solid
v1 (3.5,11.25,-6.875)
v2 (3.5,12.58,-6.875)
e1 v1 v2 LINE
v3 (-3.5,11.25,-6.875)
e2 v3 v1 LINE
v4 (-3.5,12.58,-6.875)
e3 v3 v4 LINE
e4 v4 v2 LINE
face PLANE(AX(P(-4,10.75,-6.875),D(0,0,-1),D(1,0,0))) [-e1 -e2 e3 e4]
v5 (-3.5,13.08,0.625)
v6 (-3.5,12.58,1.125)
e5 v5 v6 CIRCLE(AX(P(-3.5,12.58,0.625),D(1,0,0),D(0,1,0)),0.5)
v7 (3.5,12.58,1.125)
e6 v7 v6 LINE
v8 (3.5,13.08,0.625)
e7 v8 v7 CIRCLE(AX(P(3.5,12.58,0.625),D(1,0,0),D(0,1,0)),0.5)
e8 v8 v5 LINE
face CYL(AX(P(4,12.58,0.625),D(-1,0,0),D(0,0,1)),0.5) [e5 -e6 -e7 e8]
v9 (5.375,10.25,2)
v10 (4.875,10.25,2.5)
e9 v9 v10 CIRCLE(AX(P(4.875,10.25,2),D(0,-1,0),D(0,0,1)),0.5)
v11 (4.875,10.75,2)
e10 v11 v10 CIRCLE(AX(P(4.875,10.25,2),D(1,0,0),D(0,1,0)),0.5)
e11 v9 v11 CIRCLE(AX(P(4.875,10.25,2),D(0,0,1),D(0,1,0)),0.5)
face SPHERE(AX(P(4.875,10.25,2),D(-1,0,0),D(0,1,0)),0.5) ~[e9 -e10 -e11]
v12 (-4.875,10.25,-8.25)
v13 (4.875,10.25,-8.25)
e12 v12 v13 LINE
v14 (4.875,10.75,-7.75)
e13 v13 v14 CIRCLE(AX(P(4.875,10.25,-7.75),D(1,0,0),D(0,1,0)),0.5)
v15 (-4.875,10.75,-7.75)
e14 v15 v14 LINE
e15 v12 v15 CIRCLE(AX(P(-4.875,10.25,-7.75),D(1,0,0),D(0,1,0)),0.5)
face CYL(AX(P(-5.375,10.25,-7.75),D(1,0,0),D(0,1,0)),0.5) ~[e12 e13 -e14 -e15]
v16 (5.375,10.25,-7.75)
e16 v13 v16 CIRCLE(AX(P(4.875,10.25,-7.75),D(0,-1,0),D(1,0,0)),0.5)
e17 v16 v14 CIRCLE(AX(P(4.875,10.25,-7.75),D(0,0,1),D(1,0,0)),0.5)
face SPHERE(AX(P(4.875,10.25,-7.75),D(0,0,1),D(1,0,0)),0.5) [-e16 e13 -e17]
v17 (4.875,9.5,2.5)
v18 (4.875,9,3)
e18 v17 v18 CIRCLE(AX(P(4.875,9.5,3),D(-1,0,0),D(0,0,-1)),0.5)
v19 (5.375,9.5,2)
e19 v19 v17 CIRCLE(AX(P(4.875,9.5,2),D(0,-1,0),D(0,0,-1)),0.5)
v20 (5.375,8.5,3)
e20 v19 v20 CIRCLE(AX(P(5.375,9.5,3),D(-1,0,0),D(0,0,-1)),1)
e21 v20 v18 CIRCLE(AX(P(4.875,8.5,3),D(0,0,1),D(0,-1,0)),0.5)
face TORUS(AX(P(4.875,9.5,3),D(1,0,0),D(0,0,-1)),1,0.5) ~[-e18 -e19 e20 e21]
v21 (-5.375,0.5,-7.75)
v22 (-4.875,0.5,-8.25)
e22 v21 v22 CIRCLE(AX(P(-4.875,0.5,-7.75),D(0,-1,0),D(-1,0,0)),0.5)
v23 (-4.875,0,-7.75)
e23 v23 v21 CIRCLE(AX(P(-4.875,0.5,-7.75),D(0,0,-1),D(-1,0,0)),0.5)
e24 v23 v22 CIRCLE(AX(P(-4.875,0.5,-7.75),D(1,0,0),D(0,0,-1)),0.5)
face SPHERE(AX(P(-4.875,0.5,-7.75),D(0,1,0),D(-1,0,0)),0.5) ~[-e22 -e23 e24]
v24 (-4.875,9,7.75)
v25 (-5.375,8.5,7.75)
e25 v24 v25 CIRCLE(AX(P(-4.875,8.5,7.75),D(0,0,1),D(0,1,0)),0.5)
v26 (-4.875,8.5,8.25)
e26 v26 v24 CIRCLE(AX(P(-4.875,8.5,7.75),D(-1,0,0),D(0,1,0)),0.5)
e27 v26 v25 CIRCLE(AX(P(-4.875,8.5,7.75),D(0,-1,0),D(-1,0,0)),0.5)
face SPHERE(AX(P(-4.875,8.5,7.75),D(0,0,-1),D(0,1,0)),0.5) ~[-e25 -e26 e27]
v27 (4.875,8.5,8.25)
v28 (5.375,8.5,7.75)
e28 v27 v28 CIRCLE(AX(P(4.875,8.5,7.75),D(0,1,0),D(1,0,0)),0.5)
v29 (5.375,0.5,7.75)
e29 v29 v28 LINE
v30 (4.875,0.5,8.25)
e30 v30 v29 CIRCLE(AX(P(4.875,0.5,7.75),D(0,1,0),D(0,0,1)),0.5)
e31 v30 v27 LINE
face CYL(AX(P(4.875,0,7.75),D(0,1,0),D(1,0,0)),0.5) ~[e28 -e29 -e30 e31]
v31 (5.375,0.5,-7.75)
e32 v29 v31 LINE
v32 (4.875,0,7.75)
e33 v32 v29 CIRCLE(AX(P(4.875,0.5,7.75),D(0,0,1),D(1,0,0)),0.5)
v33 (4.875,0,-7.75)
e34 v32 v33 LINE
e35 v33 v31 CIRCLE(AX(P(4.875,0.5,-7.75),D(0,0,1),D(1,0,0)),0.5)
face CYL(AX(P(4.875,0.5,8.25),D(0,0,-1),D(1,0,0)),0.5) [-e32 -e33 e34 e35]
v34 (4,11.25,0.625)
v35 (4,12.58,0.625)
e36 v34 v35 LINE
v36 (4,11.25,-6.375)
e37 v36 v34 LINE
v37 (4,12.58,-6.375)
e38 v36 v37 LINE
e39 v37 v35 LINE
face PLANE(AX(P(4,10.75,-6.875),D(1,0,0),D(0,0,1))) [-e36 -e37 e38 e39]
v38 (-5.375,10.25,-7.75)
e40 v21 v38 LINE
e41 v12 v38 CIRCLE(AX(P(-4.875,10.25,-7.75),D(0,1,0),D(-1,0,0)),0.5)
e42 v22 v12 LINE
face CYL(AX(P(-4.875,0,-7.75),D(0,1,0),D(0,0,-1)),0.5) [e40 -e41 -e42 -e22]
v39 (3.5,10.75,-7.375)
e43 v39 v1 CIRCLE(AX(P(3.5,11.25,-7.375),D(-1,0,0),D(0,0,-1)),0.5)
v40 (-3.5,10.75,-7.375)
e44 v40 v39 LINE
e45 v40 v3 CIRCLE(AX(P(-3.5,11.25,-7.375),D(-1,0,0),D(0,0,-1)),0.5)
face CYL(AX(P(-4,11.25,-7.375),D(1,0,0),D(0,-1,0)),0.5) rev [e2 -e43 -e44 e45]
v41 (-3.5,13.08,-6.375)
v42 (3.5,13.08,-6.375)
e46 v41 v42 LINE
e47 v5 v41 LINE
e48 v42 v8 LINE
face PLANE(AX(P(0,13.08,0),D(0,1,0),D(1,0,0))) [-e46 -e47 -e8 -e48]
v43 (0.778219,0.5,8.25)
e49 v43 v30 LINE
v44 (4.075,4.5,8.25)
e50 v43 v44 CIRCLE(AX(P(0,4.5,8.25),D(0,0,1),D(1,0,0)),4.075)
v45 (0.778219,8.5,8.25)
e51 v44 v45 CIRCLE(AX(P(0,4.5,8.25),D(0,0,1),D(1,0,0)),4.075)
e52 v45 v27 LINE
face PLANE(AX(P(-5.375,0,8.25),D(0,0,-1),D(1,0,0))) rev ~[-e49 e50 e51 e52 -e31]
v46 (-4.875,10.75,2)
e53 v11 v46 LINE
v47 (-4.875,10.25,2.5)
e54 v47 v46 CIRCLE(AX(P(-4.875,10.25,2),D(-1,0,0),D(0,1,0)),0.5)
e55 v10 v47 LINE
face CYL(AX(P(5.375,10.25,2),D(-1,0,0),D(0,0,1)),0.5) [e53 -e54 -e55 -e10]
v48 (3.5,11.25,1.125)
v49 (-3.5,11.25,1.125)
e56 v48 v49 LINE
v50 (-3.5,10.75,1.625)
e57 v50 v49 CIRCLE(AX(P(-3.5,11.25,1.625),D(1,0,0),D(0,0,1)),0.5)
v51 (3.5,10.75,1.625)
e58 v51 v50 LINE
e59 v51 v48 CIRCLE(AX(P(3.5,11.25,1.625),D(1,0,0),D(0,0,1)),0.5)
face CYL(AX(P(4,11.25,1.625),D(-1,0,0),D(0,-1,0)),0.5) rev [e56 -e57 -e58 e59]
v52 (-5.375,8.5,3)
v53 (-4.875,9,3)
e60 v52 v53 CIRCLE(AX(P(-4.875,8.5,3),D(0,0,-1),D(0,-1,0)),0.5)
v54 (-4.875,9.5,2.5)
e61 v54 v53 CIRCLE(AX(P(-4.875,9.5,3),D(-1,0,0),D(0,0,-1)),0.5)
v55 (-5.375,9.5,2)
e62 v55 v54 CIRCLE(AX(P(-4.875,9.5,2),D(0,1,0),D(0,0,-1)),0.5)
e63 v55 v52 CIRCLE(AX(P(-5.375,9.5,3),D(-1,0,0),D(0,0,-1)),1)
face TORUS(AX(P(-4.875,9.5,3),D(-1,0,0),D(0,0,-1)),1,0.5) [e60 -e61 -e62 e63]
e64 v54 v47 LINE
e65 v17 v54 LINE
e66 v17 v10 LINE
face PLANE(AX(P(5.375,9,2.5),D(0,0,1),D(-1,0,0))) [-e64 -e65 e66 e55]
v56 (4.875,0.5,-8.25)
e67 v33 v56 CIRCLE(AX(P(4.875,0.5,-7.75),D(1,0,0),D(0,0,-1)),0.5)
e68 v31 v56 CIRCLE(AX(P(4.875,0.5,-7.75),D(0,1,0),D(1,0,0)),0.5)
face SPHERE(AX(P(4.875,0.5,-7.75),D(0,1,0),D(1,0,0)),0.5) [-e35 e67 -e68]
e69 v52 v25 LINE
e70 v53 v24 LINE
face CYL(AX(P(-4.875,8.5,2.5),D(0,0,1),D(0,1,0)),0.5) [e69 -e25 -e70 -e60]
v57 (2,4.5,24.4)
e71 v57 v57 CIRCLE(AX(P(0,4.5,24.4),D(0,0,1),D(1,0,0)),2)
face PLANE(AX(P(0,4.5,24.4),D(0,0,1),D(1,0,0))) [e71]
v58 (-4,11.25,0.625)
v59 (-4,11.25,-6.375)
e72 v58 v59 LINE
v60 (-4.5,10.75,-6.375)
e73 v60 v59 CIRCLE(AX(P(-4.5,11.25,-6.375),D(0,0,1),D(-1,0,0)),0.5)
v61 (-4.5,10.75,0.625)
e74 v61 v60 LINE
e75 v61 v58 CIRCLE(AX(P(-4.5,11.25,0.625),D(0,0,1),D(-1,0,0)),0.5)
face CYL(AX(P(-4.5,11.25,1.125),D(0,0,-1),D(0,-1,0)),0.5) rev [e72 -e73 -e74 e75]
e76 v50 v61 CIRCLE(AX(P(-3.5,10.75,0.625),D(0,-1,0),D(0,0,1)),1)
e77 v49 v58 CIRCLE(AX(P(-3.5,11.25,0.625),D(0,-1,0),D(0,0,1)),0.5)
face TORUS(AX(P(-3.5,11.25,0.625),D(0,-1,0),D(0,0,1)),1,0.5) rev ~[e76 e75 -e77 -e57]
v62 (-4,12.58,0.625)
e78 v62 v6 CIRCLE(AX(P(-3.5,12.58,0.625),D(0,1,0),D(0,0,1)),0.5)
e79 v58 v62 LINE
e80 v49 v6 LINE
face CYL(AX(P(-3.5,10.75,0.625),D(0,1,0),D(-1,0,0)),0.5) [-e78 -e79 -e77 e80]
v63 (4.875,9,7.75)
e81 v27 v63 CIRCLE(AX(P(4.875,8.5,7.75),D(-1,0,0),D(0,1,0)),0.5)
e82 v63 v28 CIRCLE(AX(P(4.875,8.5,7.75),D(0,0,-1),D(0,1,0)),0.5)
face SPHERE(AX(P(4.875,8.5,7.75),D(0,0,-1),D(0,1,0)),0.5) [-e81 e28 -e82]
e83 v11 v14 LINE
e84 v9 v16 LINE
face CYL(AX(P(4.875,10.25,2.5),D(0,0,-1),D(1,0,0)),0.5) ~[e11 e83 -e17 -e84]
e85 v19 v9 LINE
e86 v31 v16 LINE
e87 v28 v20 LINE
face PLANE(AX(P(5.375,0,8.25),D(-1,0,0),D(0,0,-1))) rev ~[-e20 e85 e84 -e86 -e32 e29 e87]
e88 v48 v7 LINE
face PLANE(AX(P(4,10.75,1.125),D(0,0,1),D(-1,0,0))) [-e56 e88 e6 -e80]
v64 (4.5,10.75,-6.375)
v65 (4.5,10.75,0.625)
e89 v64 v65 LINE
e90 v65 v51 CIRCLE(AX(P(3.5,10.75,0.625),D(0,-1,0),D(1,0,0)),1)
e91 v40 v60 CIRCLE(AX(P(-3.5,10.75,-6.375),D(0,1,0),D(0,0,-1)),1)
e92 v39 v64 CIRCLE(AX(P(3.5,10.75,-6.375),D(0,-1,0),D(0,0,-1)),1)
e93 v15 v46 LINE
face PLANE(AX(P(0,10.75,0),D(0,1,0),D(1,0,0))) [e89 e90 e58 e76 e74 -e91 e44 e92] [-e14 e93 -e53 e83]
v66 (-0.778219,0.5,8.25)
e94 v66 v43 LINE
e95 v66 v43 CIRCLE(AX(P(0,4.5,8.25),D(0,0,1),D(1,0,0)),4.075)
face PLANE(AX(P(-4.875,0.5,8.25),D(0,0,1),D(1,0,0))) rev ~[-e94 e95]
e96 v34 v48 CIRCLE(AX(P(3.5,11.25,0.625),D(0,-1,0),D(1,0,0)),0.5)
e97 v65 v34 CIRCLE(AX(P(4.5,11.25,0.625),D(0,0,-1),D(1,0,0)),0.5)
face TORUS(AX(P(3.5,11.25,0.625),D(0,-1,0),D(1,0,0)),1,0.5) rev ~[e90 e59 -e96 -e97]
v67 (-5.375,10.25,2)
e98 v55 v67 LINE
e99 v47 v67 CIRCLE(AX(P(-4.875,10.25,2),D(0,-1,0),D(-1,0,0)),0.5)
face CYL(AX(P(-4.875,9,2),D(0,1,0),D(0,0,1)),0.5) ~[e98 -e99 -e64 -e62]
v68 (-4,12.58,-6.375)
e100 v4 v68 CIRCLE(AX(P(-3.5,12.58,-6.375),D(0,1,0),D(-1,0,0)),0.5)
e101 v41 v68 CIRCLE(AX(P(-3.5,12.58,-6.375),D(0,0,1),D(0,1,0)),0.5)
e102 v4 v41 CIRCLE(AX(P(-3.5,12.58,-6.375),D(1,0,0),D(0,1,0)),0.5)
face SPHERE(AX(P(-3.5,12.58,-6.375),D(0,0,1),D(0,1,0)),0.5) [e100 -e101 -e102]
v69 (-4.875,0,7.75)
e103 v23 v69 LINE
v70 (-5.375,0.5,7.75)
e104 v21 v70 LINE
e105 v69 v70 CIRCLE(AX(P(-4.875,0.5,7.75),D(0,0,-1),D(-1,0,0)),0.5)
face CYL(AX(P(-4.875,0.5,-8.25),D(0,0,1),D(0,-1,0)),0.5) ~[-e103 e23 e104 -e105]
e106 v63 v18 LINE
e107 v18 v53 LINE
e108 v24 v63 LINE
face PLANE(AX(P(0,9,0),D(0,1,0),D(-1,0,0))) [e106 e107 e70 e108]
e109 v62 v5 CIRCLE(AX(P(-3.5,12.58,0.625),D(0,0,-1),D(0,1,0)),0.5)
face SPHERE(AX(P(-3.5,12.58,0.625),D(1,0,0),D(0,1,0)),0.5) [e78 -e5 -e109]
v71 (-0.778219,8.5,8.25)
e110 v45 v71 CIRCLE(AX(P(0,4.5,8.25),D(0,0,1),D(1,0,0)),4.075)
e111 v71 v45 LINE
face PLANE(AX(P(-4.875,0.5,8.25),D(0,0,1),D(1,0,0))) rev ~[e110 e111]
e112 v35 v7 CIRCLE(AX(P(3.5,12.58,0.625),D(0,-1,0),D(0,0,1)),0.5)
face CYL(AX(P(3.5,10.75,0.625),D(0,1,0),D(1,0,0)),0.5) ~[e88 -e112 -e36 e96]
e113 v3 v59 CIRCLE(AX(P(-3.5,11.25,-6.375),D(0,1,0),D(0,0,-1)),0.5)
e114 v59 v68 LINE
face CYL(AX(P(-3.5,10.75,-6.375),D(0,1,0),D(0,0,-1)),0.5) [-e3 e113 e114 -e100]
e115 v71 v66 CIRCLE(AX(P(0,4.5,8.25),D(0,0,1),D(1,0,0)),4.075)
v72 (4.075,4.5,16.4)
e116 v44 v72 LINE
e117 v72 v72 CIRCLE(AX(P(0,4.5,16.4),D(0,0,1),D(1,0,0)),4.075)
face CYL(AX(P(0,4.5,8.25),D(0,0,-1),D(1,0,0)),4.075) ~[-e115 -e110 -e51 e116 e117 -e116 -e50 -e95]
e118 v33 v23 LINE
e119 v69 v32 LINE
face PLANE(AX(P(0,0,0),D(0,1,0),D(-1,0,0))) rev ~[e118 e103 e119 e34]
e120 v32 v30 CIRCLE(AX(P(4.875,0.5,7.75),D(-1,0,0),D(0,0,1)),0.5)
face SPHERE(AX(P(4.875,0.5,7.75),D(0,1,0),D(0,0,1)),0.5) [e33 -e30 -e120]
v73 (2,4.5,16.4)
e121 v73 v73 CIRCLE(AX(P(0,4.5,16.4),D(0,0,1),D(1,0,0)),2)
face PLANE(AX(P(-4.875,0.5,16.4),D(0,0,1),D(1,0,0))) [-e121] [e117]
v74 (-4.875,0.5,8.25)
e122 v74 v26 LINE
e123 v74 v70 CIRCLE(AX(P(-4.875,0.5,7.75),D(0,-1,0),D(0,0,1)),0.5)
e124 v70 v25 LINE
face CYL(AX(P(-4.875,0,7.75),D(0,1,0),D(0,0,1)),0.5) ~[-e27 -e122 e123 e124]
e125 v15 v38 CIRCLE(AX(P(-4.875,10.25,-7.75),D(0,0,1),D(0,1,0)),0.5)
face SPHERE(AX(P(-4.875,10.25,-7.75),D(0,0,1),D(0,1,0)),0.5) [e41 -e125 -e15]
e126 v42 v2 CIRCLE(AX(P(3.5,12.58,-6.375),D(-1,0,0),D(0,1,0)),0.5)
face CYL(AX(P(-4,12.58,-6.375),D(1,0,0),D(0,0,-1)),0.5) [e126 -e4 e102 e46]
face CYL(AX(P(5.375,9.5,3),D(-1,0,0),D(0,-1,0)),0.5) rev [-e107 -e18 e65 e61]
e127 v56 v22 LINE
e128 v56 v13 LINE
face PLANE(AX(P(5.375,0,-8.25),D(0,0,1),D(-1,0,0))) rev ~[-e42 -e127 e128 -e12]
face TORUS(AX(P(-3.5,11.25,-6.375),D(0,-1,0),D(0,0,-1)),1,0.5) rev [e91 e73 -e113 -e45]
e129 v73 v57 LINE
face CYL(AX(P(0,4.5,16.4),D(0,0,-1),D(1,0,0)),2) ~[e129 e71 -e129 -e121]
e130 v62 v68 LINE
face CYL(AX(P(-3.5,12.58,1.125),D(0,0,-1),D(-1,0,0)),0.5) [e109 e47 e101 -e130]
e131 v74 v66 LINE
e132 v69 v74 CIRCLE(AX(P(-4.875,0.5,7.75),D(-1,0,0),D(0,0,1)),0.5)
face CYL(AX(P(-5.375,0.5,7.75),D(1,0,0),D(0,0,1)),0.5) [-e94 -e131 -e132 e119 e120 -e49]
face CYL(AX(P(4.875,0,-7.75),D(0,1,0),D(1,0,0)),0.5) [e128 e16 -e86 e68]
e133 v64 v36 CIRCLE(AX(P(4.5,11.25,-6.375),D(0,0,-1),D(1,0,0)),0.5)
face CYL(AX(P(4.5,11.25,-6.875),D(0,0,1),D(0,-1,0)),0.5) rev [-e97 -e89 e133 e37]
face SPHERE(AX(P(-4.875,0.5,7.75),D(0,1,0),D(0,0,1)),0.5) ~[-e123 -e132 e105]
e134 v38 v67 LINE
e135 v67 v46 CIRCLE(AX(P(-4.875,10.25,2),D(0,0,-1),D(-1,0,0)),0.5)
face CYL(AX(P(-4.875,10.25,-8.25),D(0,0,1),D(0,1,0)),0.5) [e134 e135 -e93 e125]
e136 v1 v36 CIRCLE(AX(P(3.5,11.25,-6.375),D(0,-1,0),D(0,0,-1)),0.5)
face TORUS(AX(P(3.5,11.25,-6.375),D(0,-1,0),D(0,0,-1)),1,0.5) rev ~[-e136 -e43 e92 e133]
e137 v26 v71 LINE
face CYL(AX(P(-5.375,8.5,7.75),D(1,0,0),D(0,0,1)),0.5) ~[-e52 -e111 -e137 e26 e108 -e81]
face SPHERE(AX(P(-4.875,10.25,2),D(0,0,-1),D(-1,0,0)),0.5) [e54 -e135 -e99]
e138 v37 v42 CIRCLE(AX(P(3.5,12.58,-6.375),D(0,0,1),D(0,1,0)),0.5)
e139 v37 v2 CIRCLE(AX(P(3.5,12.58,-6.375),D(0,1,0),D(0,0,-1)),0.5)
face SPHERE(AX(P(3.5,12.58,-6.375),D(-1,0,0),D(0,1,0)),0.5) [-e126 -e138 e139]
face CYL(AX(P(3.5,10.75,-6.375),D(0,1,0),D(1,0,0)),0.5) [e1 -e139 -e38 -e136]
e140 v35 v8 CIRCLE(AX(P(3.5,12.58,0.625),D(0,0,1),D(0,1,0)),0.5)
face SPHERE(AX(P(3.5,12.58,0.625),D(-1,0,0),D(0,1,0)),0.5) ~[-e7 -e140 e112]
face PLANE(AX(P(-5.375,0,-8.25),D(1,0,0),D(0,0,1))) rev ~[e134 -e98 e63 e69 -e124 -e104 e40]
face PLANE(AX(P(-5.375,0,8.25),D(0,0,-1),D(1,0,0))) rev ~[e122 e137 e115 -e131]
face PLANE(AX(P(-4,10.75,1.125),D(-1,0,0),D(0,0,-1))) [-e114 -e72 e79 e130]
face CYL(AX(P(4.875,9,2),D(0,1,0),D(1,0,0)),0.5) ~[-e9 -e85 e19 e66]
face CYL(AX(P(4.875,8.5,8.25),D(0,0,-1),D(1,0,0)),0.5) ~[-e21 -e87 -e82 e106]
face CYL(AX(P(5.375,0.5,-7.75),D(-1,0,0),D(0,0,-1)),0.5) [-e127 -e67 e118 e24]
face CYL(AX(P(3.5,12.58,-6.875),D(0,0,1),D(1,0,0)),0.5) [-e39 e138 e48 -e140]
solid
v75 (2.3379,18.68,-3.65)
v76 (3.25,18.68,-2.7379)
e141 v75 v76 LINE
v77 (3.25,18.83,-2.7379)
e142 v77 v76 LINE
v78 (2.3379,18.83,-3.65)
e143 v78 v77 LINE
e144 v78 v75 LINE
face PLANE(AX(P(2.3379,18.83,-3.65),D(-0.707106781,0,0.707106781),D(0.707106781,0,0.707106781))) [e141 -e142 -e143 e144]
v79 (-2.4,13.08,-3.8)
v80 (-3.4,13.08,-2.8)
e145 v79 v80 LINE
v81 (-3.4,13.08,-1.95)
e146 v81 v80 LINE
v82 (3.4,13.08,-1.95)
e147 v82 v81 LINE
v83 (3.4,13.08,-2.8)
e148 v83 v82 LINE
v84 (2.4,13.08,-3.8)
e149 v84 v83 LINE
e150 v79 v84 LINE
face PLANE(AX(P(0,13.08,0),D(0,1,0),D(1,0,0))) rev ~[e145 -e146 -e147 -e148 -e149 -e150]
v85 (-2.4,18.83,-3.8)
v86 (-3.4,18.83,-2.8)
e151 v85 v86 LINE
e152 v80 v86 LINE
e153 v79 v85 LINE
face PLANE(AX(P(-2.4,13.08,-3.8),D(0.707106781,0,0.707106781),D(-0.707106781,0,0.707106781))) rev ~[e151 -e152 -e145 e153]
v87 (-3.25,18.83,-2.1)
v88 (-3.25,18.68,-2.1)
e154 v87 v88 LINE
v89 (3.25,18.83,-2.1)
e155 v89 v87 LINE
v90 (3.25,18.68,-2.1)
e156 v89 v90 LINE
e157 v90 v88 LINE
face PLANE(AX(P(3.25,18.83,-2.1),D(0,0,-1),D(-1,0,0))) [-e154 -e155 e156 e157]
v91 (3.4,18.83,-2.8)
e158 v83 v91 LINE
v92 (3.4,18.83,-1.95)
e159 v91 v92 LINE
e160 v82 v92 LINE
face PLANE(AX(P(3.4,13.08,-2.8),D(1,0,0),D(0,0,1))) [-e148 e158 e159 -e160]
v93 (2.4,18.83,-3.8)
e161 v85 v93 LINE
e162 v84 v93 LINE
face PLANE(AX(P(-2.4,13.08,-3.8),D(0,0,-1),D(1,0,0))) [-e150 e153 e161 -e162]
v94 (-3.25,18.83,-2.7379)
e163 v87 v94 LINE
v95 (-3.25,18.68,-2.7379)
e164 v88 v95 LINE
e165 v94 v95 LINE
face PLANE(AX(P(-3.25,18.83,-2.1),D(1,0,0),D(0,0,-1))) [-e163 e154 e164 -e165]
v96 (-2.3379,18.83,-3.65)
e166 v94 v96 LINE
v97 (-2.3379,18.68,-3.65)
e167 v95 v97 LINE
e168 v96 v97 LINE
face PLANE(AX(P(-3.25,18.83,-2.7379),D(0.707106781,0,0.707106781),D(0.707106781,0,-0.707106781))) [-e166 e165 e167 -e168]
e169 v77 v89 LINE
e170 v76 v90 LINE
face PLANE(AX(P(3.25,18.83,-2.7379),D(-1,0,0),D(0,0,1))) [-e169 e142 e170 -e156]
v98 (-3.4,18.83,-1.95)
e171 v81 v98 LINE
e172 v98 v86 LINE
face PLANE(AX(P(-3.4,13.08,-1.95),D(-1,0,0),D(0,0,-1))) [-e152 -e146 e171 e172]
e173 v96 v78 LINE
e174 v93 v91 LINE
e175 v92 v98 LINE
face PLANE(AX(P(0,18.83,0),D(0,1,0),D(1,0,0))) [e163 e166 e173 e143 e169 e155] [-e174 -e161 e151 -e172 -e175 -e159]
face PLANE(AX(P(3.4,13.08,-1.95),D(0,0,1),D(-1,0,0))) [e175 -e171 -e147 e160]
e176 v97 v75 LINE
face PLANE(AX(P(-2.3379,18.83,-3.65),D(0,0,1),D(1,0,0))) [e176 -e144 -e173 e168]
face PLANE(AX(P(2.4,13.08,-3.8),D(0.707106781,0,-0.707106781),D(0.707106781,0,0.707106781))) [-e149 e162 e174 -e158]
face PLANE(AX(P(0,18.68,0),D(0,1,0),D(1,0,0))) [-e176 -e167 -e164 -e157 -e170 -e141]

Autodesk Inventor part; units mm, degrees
ref_plane "YZ Plane" through (0, 0, 0) normal (1, 0, 0) x (0, 1, 0)
ref_plane "XZ Plane" through (0, 0, 0) normal (0, 1, 0) x (-1, 0, 0)
ref_plane "XY Plane" through (0, 0, 0) normal (0, 0, 1) x (1, 0, 0)
sketch "Sketch1" plane through (0, 0, 0) normal (0, 1, 0) x (-1, 0, 0)
  line L0 (-5.375, -8.25) -> (5.375, -8.25)
  line L1 (5.375, -8.25) -> (5.375, 8.25)
  line L2 (5.375, 8.25) -> (-5.375, 8.25)
  line L3 (-5.375, 8.25) -> (-5.375, -8.25)
  line L4 (-5.375, -8.25) -> (5.375, 8.25) construction
  line L5 (5.375, -8.25) -> (-5.375, 8.25) construction
  point P0 (0, 0)
  dimension "d0" = 10.75
  dimension "d1" = 16.5
extrude "Extrusion1" add sketch "Sketch1" along normal blind 9
sketch "Sketch2" plane through (0, 9, 0) normal (0, 1, 0) x (1, 0, 0)
  line L0 (-5.375, 8.25) -> (-5.375, -8.25) projected
  line L1 (5.375, -8.25) -> (5.375, 8.25) projected
  line L2 (-5.375, 8.25) -> (5.375, 8.25)
  line L3 (5.375, 8.25) -> (5.375, -2.5)
  line L4 (5.375, -2.5) -> (-5.375, -2.5)
  line L5 (-5.375, -2.5) -> (-5.375, 8.25)
  point P0 (0, 0)
  dimension "d4" = 10.75
extrude "Extrusion2" add sketch "Sketch2" along normal blind 1.75
sketch "Sketch3" plane through (0, 10.75, 0) normal (0, 1, 0) x (1, 0, 0)
  line L0 (5.375, 8.25) -> (-5.375, 8.25) construction
  line L1 (-5.375, 8.25) -> (-5.375, -2.5) construction
  line L2 (-5.375, -2.5) -> (5.375, -2.5) construction
  line L3 (5.375, -2.5) -> (5.375, 8.25) construction
  line L4 (5.375, 2.875) -> (-5.375, 2.875) construction
  line L5 (4, -1.125) -> (-4, -1.125)
  line L6 (-4, -1.125) -> (-4, 6.875)
  line L7 (-4, 6.875) -> (4, 6.875)
  line L8 (4, 6.875) -> (4, -1.125)
  line L9 (4, -1.125) -> (-4, 6.875) construction
  line L10 (-4, -1.125) -> (4, 6.875) construction
  point P0 (0, 0)
  point P1 (0, 2.875)
  dimension "d7" = 8
  dimension "d8" = 8
extrude "Extrusion3" add sketch "Sketch3" along normal blind 2.33
fillet "Fillet1" radius 0.5 30 edges at (0, 13.08, 1.125) (-4, 13.08, -2.875) (0, 13.08, -6.875) (4, 13.08, -2.875) (4, 11.915, 1.125) (-4, 11.915, 1.125) (-4, 11.915, -6.875) (4, 11.915, -6.875) (0, 10.75, -6.875) (4, 10.75, -2.875) (0, 10.75, 1.125) (-4, 10.75, -2.875) (-5.375, 10.75, -2.875) (-5.375, 9.875, 2.5) (0, 10.75, 2.5) (5.375, 10.75, -2.875) (5.375, 9.875, 2.5) (5.375, 5.375, -8.25) (0, 10.75, -8.25) (-5.375, 5.375, -8.25) (-5.375, 9, 5.375) (5.375, 9, 5.375) (0, 9, 8.25) (5.375, 4.5, 8.25) (-5.375, 4.5, 8.25) (0, 0, 8.25) (5.375, 0, 0) (-5.375, 0, 0) (0, 0, -8.25) (0, 9, 2.5)
sketch "Sketch4" plane through (-4.875, 0.5, 8.25) normal (0, 0, 1) x (1, 0, 0)
  line L0 (9.75, 0) -> (0, 0) construction
  line L1 (9.75, 8) -> (9.75, 0) construction
  line L2 (0, 8) -> (9.75, 8) construction
  line L3 (0, 0) -> (0, 8) construction
  line L4 (0, 4) -> (9.75, 4) construction
  circle A0 centre (4.875, 4) radius 4.075
  point P0 (4.875, -0.5)
  dimension "d12" = 8.15
extrude "Extrusion4" add sketch "Sketch4" along normal blind 8.15
sketch "Sketch5" plane through (0, 13.08, 0) normal (0, 1, 0) x (1, 0, 0)
  line L0 (3.5, 6.375) -> (3.5, -0.625) construction
  line L1 (-3.5, 6.375) -> (3.5, 6.375) construction
  line L2 (-3.5, -0.625) -> (-3.5, 6.375) construction
  line L3 (3.5, -0.625) -> (-3.5, -0.625) construction
  line L4 (3.5, 2.875) -> (-3.5, 2.875) construction
  line L5 (3.4, 1.95) -> (-3.4, 1.95)
  line L6 (-3.4, 1.95) -> (-3.4, 3.8)
  line L7 (-3.4, 3.8) -> (3.4, 3.8)
  line L8 (3.4, 3.8) -> (3.4, 1.95)
  line L9 (3.4, 1.95) -> (-3.4, 3.8) construction
  line L10 (-3.4, 1.95) -> (3.4, 3.8) construction
  line L11 (2.4, 3.8) -> (3.4, 2.8)
  line L12 (-2.4, 3.8) -> (-3.4, 2.8)
  point P0 (0, 0)
  point P1 (0, 2.875)
  dimension "d15" = 6.8
  dimension "d16" = 1.85
  dimension "d17" = 0.85
  dimension "d18" = 1
  dimension "d19" = 1
  dimension "d20" = 0.85
extrude "Extrusion5" add sketch "Sketch5" along normal blind 5.75 separate body contours L5 L6 L12 L7 L11 L8
sketch "Sketch6" plane through (0, 18.83, 0) normal (0, 1, 0) x (1, 0, 0)
  line L0 (3.4, 1.95) -> (3.4, 2.8) construction
  line L1 (3.4, 2.8) -> (2.4, 3.8) construction
  line L2 (2.4, 3.8) -> (-2.4, 3.8) construction
  line L3 (-2.4, 3.8) -> (-3.4, 2.8) construction
  line L4 (-3.4, 2.8) -> (-3.4, 1.95) construction
  line L5 (-3.4, 1.95) -> (3.4, 1.95) construction
  line L6 (-2.3379, 3.65) -> (2.3379, 3.65)
  line L7 (2.3379, 3.65) -> (3.25, 2.7379)
  line L8 (3.25, 2.7379) -> (3.25, 2.1)
  line L9 (3.25, 2.1) -> (-3.25, 2.1)
  line L10 (-3.25, 2.1) -> (-3.25, 2.7379)
  line L11 (-3.25, 2.7379) -> (-2.3379, 3.65)
  point P0 (0, 0)
  dimension "d23" = 0.15
extrude "Extrusion6" cut sketch "Sketch6" against normal blind 0.15 bodies 2
sketch "Sketch7" plane through (0, 4.5, 16.4) normal (0, 0, 1) x (1, 0, 0)
  arc A0 (-0.7782, 4) -> (-0.7782, -4) centre (0, 0) ccw projected
  circle A1 centre (0, 0) radius 2
  point P0 (0, -4.5)
  dimension "d26" = 4
extrude "Extrusion7" add sketch "Sketch7" along normal blind 8 bodies 1
equation "\"d4\" = d0"
properties part number "USB Micro Right Angle Plug"
